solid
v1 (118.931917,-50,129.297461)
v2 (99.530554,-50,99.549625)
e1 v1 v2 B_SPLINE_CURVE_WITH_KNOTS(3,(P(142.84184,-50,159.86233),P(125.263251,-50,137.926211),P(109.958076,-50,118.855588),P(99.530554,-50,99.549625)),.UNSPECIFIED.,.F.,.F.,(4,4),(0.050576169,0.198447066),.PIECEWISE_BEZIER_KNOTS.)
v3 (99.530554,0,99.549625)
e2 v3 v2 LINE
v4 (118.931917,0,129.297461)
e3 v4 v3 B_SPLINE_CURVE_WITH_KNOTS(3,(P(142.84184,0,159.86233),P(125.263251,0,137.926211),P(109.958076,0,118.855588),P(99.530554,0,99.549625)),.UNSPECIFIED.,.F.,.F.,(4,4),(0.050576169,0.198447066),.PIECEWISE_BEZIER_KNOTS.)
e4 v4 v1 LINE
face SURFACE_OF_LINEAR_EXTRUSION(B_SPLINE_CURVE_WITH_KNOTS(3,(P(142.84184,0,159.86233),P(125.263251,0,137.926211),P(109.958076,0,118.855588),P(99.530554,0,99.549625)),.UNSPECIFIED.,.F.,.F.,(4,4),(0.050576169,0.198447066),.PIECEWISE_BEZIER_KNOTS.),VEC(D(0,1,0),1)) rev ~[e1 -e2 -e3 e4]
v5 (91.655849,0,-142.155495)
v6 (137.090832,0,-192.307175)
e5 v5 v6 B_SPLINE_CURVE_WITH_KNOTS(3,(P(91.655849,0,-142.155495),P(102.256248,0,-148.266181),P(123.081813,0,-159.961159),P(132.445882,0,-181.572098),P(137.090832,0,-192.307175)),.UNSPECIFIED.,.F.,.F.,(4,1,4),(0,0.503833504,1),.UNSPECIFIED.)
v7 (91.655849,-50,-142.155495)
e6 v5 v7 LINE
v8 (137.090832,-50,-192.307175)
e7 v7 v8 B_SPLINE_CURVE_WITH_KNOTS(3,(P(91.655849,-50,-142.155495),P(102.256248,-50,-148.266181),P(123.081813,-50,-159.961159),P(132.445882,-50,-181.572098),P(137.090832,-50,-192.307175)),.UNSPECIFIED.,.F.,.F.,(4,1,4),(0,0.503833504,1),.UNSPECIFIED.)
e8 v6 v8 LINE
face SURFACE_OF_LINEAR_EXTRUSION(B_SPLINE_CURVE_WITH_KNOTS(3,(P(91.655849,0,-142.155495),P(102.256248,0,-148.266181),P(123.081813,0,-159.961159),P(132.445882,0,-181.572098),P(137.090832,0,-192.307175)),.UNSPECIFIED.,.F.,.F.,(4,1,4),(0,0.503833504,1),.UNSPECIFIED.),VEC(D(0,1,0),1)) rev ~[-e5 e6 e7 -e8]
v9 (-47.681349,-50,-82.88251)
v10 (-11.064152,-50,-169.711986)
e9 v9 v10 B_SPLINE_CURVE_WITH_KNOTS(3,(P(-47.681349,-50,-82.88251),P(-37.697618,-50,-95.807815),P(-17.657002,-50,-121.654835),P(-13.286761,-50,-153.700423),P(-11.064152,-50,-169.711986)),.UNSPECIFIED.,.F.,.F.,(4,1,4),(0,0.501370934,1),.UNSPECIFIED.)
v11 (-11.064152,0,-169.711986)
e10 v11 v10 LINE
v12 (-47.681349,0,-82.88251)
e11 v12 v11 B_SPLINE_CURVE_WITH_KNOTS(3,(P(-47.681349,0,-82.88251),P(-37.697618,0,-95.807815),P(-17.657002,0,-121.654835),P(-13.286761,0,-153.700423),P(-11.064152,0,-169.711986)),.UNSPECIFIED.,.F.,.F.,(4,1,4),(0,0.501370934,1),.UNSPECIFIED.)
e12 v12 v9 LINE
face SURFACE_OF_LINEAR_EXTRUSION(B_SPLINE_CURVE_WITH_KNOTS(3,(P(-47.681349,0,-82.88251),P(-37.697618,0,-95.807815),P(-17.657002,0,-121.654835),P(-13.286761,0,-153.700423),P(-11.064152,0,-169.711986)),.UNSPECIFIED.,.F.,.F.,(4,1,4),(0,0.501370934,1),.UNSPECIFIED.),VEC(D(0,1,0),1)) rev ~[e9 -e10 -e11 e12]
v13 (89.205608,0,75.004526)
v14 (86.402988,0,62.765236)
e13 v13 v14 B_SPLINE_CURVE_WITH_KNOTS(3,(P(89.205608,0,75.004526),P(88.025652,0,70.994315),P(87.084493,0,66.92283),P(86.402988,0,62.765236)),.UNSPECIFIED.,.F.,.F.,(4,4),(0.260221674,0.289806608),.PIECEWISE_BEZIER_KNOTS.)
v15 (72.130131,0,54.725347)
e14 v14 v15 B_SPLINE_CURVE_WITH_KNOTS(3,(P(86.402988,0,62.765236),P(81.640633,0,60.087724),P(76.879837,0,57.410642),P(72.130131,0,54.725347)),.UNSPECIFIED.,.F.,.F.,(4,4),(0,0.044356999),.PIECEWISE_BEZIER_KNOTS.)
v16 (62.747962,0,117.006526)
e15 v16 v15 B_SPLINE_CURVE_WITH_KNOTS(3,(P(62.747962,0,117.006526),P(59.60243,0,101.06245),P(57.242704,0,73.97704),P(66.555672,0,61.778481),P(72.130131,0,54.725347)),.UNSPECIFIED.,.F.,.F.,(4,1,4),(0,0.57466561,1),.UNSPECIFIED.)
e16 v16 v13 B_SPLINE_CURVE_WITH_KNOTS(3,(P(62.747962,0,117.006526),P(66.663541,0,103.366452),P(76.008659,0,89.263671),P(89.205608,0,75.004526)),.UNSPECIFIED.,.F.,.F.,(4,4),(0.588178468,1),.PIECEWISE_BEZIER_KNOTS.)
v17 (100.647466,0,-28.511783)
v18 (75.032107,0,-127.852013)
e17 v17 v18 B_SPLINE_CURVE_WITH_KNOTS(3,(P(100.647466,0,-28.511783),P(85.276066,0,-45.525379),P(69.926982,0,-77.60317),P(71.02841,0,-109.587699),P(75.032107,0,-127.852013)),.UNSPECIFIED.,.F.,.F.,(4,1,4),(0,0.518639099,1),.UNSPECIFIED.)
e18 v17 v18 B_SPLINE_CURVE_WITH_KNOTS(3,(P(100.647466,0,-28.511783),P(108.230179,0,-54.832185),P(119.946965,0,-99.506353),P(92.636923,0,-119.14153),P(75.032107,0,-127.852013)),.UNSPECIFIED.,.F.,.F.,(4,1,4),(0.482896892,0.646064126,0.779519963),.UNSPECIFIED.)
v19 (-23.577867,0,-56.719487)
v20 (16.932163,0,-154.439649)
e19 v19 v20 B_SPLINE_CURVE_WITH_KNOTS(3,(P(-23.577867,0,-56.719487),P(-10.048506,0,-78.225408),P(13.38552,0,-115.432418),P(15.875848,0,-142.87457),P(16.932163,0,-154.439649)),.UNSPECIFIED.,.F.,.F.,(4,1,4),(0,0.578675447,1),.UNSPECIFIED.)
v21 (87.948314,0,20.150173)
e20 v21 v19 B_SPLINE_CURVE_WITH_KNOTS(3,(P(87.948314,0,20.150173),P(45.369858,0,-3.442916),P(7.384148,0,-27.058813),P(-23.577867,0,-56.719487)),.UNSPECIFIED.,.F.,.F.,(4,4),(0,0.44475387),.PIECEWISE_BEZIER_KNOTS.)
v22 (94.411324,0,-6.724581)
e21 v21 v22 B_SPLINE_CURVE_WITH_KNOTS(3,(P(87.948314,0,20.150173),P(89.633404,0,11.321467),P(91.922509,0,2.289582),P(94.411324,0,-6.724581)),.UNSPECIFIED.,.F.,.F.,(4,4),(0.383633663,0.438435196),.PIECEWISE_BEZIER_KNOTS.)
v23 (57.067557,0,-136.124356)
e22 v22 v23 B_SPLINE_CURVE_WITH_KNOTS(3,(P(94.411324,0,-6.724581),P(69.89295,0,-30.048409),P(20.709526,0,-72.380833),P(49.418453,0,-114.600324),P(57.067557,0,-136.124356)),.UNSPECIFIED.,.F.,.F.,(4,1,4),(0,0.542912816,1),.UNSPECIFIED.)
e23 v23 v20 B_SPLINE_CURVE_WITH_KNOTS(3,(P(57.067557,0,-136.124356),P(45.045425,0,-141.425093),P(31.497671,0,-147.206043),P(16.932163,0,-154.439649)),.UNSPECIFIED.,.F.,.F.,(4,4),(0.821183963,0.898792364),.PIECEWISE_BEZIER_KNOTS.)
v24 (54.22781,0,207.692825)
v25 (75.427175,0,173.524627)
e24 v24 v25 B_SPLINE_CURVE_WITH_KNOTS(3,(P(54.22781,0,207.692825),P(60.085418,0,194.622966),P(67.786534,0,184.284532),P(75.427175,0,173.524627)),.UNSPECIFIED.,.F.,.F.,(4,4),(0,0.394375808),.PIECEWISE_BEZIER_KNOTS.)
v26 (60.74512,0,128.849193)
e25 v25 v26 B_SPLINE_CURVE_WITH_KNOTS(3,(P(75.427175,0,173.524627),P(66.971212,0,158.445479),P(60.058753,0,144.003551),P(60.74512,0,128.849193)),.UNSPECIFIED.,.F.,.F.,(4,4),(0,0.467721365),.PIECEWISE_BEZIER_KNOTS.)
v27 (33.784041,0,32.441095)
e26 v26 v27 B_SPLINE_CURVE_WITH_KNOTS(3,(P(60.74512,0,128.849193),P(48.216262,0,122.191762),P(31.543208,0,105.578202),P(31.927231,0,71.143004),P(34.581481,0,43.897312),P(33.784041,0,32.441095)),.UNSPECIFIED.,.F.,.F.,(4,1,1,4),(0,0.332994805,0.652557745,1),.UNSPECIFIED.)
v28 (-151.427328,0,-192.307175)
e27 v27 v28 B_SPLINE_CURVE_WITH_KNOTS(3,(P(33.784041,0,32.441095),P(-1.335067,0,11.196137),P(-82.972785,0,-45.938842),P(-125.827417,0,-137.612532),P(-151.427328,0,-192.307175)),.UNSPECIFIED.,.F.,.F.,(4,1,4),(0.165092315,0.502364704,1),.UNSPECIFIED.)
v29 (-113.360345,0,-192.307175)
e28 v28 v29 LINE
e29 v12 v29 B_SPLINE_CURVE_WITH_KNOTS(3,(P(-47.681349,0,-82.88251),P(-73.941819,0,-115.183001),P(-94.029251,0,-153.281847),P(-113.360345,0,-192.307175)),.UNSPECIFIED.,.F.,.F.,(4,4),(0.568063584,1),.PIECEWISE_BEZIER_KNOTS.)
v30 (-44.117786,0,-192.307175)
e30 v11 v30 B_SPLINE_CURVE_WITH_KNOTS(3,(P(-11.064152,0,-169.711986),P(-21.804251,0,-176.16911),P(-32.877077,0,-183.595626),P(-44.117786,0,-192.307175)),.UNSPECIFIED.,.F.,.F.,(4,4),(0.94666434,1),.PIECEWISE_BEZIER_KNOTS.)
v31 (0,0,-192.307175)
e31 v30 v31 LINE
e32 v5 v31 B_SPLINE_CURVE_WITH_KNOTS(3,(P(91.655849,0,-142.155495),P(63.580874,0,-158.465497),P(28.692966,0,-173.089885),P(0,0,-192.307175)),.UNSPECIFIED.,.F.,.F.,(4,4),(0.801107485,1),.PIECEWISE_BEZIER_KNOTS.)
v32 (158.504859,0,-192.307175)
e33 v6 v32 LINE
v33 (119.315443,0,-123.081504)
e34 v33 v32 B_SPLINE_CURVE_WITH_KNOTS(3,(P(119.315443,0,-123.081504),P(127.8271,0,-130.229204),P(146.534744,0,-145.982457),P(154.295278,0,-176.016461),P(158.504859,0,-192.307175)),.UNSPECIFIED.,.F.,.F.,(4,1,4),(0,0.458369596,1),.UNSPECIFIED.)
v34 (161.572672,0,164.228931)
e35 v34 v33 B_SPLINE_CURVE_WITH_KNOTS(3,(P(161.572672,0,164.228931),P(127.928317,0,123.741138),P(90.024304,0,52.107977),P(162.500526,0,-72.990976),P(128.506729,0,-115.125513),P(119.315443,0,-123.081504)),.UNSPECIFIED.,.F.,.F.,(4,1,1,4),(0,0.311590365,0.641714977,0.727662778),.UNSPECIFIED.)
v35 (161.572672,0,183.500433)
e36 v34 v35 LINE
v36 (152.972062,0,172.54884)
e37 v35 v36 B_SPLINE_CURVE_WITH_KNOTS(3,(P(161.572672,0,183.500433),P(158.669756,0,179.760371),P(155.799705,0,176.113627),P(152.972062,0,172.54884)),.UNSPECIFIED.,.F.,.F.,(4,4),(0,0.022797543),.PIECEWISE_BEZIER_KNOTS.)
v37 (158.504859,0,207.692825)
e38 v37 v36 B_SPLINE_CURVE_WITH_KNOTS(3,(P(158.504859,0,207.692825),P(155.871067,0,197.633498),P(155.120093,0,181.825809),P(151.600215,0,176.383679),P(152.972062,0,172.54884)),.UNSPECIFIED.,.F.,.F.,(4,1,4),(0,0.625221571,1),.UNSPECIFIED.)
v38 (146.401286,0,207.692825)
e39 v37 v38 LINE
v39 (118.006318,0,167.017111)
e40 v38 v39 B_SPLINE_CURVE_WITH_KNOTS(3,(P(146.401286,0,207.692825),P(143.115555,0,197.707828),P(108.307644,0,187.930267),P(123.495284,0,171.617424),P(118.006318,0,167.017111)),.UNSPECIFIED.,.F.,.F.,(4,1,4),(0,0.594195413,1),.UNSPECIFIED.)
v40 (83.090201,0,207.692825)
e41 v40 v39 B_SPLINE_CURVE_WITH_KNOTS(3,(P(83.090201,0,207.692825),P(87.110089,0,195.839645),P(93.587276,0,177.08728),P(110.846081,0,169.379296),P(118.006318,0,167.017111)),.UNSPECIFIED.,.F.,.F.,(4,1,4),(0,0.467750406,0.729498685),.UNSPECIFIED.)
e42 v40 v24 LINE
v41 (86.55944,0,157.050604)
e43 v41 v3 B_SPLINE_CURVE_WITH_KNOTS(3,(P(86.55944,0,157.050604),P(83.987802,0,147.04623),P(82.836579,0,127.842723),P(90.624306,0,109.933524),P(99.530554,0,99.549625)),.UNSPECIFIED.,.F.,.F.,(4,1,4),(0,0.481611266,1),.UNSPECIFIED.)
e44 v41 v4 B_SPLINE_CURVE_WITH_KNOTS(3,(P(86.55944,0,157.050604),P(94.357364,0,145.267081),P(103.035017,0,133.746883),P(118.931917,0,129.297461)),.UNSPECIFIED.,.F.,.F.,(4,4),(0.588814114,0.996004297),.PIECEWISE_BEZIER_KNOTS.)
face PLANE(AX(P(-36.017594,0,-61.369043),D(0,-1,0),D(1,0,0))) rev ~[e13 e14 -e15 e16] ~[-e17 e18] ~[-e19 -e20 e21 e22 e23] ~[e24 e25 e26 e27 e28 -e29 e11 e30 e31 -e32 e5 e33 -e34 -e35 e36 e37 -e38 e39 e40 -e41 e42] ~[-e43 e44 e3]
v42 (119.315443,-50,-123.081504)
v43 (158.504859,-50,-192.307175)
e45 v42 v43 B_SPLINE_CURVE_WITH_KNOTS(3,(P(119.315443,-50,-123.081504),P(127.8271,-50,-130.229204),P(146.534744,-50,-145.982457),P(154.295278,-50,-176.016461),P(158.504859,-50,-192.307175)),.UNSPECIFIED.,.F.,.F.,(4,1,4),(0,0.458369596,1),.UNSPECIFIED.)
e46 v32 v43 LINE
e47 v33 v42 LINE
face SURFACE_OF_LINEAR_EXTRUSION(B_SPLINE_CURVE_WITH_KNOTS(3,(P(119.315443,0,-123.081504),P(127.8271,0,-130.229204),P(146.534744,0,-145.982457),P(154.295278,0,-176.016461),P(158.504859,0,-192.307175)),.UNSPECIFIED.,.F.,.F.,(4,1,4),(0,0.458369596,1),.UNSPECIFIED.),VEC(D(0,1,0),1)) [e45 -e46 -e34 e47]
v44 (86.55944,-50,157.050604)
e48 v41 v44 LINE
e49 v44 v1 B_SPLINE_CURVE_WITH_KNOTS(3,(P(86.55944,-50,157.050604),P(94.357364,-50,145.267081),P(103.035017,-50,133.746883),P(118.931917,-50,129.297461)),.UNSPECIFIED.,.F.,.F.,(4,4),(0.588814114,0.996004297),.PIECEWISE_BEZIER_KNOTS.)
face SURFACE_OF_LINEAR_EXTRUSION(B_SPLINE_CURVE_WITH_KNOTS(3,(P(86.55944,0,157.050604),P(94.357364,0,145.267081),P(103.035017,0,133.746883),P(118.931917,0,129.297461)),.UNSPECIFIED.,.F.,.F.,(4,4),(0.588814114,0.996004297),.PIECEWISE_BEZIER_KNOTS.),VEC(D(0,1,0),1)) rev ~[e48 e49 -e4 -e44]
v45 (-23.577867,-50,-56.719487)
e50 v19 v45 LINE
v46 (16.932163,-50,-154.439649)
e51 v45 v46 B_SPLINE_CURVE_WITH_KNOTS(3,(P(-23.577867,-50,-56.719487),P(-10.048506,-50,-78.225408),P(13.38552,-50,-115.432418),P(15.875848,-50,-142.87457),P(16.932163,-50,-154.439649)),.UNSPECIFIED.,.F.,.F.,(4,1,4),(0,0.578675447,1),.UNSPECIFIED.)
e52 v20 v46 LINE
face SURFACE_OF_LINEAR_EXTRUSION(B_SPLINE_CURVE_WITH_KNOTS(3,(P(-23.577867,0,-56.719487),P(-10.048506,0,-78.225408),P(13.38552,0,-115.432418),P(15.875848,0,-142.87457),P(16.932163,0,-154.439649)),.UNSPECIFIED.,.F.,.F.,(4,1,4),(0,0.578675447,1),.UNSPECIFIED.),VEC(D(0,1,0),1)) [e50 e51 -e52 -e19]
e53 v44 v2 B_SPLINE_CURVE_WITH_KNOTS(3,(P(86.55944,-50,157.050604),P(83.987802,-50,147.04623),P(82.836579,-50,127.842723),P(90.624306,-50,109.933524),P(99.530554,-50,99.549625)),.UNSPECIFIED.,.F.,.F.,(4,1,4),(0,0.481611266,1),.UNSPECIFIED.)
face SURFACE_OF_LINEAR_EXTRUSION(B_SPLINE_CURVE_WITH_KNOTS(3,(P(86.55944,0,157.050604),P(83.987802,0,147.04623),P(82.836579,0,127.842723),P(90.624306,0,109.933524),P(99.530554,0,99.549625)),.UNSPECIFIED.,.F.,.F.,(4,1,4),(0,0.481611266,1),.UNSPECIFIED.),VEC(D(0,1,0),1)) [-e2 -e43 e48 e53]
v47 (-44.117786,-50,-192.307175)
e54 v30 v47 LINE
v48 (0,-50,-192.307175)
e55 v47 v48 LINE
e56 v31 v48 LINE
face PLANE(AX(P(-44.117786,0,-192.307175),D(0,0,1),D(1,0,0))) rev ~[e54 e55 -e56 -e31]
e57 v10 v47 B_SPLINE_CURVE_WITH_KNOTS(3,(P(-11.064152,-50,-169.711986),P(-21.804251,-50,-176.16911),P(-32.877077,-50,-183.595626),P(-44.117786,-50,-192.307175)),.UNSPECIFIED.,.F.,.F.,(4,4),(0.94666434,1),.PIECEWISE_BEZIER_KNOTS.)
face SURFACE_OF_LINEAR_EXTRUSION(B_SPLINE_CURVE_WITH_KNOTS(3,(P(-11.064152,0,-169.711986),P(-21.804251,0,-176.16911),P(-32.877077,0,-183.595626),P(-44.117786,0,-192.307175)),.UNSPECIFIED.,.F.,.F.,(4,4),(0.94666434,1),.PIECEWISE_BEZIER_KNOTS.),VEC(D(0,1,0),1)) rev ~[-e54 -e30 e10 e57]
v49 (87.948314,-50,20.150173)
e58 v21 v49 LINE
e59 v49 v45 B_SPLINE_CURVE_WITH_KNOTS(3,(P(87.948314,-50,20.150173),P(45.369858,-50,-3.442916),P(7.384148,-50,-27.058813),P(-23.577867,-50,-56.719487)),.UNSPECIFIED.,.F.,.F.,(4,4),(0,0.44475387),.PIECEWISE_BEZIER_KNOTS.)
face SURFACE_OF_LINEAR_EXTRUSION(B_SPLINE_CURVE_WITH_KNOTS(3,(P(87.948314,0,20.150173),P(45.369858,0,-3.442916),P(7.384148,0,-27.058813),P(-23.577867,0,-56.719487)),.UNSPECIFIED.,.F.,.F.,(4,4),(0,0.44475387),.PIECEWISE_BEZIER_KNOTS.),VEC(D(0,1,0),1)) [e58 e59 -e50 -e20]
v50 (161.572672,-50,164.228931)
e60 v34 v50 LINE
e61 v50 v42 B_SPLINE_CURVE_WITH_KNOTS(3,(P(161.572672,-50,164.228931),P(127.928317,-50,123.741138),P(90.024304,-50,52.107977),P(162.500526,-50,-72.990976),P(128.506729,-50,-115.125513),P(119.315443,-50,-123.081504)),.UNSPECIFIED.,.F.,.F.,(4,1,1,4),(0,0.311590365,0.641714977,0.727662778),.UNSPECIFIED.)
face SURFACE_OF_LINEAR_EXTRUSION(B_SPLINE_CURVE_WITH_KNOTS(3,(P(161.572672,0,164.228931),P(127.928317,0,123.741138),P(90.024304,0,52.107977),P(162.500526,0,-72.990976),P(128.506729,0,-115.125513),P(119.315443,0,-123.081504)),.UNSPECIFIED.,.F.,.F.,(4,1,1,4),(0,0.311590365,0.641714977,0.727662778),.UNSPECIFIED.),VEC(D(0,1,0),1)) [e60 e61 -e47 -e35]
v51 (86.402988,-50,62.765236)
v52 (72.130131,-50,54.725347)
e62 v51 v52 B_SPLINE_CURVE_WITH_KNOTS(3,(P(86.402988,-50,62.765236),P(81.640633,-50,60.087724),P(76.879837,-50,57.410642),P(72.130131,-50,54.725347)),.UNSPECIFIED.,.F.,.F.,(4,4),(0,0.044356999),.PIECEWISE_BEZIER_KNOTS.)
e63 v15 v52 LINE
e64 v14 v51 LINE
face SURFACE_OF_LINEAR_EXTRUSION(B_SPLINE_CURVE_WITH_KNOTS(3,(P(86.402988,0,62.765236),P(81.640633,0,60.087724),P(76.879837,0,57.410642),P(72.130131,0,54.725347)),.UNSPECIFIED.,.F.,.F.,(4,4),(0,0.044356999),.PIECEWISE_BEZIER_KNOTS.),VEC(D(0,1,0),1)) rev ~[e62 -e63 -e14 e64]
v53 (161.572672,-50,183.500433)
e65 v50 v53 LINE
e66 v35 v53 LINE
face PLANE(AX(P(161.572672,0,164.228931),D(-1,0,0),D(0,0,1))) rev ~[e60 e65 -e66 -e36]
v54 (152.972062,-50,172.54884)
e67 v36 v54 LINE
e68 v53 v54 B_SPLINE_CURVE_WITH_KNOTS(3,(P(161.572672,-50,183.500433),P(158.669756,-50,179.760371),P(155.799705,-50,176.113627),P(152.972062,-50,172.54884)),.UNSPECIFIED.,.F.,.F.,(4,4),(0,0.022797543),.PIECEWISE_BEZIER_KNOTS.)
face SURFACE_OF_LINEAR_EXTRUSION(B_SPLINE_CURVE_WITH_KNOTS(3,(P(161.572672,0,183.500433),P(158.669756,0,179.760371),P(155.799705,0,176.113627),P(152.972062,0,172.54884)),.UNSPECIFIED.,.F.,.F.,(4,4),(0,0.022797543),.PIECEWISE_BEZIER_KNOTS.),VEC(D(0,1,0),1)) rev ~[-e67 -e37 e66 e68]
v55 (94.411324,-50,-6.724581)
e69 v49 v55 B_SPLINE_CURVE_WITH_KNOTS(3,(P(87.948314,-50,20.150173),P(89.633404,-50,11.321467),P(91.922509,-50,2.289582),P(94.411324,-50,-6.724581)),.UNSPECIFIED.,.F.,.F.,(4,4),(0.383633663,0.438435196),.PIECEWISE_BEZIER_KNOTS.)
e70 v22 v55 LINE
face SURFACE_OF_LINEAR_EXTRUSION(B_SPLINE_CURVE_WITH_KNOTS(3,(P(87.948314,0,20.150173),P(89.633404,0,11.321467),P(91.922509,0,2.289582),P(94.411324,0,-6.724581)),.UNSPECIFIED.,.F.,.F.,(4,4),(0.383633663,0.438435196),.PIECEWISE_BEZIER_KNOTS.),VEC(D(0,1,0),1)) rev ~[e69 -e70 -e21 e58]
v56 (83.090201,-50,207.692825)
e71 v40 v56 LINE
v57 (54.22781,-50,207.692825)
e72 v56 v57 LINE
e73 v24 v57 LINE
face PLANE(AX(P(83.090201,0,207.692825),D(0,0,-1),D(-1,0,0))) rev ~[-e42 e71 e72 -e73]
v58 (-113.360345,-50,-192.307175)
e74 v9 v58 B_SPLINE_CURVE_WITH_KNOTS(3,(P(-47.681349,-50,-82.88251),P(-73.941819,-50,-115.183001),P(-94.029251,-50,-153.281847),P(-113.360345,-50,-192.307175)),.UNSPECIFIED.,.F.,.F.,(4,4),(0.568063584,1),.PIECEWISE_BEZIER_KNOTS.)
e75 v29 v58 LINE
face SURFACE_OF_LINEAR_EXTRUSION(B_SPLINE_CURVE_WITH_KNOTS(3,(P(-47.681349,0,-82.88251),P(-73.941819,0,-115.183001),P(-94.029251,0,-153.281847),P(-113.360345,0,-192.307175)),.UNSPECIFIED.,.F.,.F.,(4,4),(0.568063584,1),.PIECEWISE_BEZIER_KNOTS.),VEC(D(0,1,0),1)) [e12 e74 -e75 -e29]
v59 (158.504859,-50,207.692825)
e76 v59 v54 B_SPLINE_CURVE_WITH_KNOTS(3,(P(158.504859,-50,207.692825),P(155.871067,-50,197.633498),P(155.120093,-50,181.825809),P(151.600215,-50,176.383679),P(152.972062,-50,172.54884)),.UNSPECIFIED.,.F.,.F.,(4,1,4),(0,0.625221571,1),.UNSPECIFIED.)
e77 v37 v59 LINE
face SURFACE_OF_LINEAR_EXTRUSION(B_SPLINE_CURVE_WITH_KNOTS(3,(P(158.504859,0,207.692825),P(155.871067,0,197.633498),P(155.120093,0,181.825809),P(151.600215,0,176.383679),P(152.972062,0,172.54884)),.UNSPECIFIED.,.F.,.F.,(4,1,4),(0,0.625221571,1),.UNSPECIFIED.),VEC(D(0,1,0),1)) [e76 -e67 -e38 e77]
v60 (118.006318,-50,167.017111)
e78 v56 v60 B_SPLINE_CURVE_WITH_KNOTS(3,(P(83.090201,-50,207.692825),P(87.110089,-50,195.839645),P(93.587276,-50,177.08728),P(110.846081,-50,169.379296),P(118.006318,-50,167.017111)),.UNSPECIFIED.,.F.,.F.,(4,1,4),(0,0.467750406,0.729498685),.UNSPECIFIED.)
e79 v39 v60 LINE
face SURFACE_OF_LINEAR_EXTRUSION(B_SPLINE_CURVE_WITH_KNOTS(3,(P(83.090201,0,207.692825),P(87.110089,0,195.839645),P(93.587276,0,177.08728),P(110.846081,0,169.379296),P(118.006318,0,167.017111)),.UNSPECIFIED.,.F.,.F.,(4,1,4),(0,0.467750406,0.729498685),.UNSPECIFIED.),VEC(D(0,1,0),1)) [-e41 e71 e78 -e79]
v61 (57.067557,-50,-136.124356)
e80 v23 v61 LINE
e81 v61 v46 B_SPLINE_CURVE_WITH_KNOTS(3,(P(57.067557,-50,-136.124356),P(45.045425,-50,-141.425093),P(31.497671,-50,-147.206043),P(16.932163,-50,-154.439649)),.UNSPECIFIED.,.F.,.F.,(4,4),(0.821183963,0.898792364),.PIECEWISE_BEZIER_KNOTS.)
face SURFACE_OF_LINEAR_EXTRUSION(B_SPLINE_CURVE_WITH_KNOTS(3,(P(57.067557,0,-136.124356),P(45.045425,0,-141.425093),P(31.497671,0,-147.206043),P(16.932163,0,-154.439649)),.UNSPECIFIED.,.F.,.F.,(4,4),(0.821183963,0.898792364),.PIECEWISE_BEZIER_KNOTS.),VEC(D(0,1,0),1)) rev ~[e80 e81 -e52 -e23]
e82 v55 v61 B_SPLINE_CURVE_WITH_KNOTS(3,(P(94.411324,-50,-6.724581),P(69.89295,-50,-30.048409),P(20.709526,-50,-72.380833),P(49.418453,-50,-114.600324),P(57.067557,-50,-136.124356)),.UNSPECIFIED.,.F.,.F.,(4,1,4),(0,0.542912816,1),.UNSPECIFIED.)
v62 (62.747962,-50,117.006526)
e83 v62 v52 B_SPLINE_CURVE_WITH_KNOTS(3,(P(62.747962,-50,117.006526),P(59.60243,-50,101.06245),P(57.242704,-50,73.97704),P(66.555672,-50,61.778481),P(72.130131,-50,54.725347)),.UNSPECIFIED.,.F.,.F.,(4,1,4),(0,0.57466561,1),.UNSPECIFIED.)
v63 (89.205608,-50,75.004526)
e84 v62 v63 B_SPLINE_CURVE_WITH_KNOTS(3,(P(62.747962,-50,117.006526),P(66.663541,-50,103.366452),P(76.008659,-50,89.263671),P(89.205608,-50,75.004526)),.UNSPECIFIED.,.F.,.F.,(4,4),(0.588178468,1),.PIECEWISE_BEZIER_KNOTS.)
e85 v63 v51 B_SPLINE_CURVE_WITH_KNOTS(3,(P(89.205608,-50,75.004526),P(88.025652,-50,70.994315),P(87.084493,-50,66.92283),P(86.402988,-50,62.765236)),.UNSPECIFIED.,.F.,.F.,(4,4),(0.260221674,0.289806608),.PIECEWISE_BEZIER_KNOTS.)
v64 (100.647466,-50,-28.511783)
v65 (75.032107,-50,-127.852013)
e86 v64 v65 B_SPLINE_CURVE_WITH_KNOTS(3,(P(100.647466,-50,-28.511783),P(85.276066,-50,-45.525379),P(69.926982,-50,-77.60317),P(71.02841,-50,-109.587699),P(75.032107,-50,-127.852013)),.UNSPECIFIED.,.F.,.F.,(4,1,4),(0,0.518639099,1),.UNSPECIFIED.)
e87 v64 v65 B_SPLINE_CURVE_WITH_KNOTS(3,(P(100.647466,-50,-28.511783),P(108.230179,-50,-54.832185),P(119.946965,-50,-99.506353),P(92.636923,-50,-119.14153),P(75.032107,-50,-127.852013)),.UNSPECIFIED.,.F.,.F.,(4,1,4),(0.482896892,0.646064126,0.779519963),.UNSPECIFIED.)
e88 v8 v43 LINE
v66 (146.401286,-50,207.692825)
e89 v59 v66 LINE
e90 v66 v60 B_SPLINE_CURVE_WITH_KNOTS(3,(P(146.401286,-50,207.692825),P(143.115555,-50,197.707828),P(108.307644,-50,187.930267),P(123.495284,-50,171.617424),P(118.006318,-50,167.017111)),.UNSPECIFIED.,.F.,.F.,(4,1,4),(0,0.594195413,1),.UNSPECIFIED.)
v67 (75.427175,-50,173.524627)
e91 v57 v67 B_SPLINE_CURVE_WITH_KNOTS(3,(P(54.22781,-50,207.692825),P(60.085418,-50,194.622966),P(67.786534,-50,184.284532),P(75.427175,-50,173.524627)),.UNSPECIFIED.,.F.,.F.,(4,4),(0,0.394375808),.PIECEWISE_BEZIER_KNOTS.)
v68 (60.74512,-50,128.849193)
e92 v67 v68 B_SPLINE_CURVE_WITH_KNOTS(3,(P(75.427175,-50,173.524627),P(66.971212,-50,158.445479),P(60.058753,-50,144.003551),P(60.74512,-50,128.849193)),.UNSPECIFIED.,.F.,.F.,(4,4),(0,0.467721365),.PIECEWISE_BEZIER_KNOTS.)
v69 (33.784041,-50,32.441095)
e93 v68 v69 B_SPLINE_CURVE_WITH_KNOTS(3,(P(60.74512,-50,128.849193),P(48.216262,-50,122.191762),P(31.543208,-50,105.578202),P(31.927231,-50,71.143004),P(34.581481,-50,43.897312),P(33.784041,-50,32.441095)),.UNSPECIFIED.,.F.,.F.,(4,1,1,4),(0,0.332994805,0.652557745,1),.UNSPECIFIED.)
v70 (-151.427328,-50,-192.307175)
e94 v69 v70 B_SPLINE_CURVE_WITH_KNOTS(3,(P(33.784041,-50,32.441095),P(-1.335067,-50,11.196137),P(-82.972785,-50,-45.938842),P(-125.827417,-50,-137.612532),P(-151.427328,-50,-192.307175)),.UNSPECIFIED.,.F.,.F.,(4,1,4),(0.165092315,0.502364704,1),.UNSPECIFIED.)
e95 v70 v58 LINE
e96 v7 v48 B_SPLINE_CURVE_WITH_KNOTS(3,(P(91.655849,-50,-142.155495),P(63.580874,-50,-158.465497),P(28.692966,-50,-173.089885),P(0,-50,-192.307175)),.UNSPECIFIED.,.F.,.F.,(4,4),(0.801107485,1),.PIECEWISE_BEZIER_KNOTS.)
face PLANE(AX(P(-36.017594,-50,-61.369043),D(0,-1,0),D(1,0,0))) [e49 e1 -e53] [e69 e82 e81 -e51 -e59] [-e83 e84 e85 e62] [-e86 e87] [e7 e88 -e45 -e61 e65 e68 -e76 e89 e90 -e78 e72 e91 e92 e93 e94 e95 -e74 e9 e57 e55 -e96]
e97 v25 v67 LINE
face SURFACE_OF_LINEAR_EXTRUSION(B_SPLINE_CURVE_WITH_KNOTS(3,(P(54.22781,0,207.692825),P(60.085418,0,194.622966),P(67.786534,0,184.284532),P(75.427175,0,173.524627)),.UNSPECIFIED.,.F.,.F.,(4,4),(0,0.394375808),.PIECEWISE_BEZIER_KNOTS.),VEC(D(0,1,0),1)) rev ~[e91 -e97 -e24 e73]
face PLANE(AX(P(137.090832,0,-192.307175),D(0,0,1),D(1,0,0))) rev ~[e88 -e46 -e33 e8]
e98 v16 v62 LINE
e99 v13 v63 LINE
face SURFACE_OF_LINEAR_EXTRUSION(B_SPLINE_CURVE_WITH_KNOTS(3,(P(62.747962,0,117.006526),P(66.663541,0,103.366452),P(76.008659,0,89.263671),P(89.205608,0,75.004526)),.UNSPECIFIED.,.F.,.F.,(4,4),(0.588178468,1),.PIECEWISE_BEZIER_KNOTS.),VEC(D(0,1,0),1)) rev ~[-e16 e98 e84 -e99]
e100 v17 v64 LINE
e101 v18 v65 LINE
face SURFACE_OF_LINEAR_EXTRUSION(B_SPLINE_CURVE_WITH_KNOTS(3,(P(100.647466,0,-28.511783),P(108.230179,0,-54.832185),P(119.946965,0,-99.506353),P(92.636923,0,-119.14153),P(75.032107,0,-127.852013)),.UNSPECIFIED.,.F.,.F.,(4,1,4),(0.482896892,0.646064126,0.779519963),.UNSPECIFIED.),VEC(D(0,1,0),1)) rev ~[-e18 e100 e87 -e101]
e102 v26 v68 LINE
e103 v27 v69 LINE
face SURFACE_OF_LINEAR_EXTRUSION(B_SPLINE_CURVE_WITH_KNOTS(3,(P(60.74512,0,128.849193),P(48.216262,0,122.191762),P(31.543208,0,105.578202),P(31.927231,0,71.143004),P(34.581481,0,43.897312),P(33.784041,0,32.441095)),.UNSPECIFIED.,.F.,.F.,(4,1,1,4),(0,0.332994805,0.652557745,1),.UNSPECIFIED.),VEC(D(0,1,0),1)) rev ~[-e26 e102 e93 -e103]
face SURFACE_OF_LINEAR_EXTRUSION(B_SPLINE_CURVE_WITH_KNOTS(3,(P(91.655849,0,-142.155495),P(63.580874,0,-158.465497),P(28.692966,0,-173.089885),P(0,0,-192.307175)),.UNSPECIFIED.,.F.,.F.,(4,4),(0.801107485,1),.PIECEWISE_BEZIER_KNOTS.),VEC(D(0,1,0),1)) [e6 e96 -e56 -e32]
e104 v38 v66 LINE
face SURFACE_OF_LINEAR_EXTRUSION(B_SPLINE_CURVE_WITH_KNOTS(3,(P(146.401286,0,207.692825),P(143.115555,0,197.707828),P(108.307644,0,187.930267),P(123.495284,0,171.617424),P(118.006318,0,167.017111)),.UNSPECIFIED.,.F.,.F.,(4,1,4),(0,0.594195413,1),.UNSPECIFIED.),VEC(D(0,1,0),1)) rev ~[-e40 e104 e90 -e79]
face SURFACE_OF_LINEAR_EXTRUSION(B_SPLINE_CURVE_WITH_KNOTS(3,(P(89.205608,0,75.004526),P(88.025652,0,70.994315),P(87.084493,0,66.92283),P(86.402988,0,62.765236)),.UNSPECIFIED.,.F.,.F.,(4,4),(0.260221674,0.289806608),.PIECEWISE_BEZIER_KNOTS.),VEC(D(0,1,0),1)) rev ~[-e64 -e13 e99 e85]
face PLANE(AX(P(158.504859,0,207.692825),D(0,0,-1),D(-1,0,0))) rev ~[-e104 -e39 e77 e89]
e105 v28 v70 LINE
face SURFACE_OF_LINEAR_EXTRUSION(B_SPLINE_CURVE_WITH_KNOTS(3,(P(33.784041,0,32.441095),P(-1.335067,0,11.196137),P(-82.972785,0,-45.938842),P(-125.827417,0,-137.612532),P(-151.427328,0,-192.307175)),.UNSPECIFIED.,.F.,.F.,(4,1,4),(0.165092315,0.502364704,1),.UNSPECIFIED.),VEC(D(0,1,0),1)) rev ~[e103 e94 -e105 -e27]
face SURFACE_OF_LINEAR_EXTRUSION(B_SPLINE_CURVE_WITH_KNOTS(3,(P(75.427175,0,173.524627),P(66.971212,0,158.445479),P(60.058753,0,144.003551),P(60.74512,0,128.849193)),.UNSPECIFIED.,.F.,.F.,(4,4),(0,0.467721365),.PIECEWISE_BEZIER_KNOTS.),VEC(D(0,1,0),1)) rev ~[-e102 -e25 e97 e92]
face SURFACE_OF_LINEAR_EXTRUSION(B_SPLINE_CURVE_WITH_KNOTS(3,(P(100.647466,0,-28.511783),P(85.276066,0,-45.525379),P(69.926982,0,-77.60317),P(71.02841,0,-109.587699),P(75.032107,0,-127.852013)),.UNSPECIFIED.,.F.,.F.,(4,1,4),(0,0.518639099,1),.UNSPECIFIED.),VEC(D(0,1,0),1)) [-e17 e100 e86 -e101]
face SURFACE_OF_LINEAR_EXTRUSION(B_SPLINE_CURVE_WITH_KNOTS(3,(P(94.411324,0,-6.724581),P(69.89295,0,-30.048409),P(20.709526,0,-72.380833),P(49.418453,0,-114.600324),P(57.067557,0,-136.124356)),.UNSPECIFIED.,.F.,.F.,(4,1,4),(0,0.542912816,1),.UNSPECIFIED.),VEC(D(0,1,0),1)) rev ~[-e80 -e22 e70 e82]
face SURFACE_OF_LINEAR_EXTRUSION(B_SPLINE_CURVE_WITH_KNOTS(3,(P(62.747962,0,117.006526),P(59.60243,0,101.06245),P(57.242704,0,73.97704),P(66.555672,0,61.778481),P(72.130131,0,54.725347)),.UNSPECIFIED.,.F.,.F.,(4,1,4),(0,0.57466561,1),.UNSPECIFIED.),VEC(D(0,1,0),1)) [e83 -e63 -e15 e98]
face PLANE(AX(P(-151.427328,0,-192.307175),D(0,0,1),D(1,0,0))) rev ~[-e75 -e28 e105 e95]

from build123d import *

# Parameters (mm, degrees)
F1_DEPTH = 50


with BuildPart() as f1:
    # F0 (on Front) → F1 (new body)
    with BuildSketch(Plane.XZ):
        with BuildLine():
            add(Edge.make_bspline(
                [(33.7840405817, 32.4410954859), (-1.3350670747, 11.1961369565), (-82.9727851373, -45.9388415897), (-125.8274168712, -137.6125319097), (-151.4273277136, -192.3071747745)],
                knots=[0.1650923147, 0.1650923147, 0.1650923147, 0.1650923147, 0.5023647043, 1, 1, 1, 1], degree=3))
            Line((-151.4273277136, -192.3071747745), (-113.3603453636, -192.3071747745))
            add(Edge.make_bspline(
                [(-47.6813485904, -82.8825103726), (-73.9418191046, -115.1830009143), (-94.0292507398, -153.2818472534), (-113.3603453636, -192.3071747745)],
                knots=[0.5680635842, 0.5680635842, 0.5680635842, 0.5680635842, 1, 1, 1, 1], degree=3))
            add(Edge.make_bspline(
                [(-23.5778673601, -56.7194873224), (-27.8845088808, -60.8451196614), (-36.1979815182, -69.3017688301), (-43.9455530092, -78.2874659017), (-47.6813485904, -82.8825103726)],
                knots=[0.44475387, 0.44475387, 0.44475387, 0.44475387, 0.5066166215, 0.5680635842, 0.5680635842, 0.5680635842, 0.5680635842], degree=3))
            add(Edge.make_bspline(
                [(87.9483139372, 20.1501727821), (45.3698576212, -3.4429156349), (7.3841483298, -27.0588126184), (-23.5778673601, -56.7194873224)],
                knots=[0, 0, 0, 0, 0.44475387, 0.44475387, 0.44475387, 0.44475387], degree=3))
            add(Edge.make_bspline(
                [(86.4029882629, 62.7652361886), (85.449929096, 56.9509946506), (84.4401796439, 43.3835035509), (86.3354202415, 28.6006214532), (87.9483139372, 20.1501727821)],
                knots=[0.2898066076, 0.2898066076, 0.2898066076, 0.2898066076, 0.3311800495, 0.3836336632, 0.3836336632, 0.3836336632, 0.3836336632], degree=3))
            add(Edge.make_bspline(
                [(86.4029882629, 62.7652361886), (81.6406325524, 60.0877235039), (76.8798373396, 57.4106422817), (72.1301305263, 54.7253465386)],
                knots=[0, 0, 0, 0, 0.0443569986, 0.0443569986, 0.0443569986, 0.0443569986], degree=3))
            add(Edge.make_bspline(
                [(72.1301305263, 54.7253465386), (59.2019033995, 47.4162399695), (46.35582734, 40.0462741519), (33.7840405817, 32.4410954859)],
                knots=[0.0443569986, 0.0443569986, 0.0443569986, 0.0443569986, 0.1650923147, 0.1650923147, 0.1650923147, 0.1650923147], degree=3))
        make_face()
        with BuildLine():
            add(Edge.make_bspline(
                [(-47.6813485904, -82.8825103726), (-37.6976178586, -95.8078145278), (-17.6570022581, -121.6548352785), (-13.2867608742, -153.7004230944), (-11.0641516952, -169.7119861588)],
                knots=[0, 0, 0, 0, 0.5013709336, 1, 1, 1, 1], degree=3))
            add(Edge.make_bspline(
                [(16.9321630542, -154.4396487608), (7.9475731058, -158.9016267331), (-1.4242642684, -163.9163277691), (-11.0641516952, -169.7119861588)],
                knots=[0.8987923644, 0.8987923644, 0.8987923644, 0.8987923644, 0.9466643403, 0.9466643403, 0.9466643403, 0.9466643403], degree=3))
            add(Edge.make_bspline(
                [(-23.5778673601, -56.7194873224), (-10.048506017, -78.2254081232), (13.3855203997, -115.4324178206), (15.8758483062, -142.8745703905), (16.9321630542, -154.4396487608)],
                knots=[0, 0, 0, 0, 0.5786754475, 1, 1, 1, 1], degree=3))
            add(Edge.make_bspline(
                [(-23.5778673601, -56.7194873224), (-27.8845088808, -60.8451196614), (-36.1979815182, -69.3017688301), (-43.9455530092, -78.2874659017), (-47.6813485904, -82.8825103726)],
                knots=[0.44475387, 0.44475387, 0.44475387, 0.44475387, 0.5066166215, 0.5680635842, 0.5680635842, 0.5680635842, 0.5680635842], degree=3))
        make_face()
        with BuildLine():
            Line((161.5726722864, 164.2289310694), (161.5726722864, 183.500433121))
            add(Edge.make_bspline(
                [(161.5726722864, 183.500433121), (158.6697561937, 179.7603709259), (155.7997051715, 176.1136274949), (152.9720624863, 172.5488397796)],
                knots=[0, 0, 0, 0, 0.0227975426, 0.0227975426, 0.0227975426, 0.0227975426], degree=3))
            add(Edge.make_bspline(
                [(152.9720624863, 172.5488397796), (149.5266021616, 168.2051740458), (146.144106472, 163.9831898515), (142.8418403639, 159.8623300408)],
                knots=[0.0227975426, 0.0227975426, 0.0227975426, 0.0227975426, 0.0505761686, 0.0505761686, 0.0505761686, 0.0505761686], degree=3))
            add(Edge.make_bspline(
                [(142.8418403639, 159.8623300408), (134.2230298354, 149.1070157325), (126.1507380473, 139.0405542113), (118.931917396, 129.2974610904)],
                knots=[0.0505761686, 0.0505761686, 0.0505761686, 0.0505761686, 0.1230775075, 0.1230775075, 0.1230775075, 0.1230775075], degree=3))
            add(Edge.make_bspline(
                [(118.931917396, 129.2974610904), (111.4275135493, 119.1689222297), (104.8454447873, 109.3898433661), (99.5305536728, 99.5496247644)],
                knots=[0.1230775075, 0.1230775075, 0.1230775075, 0.1230775075, 0.1984470661, 0.1984470661, 0.1984470661, 0.1984470661], degree=3))
            add(Edge.make_bspline(
                [(99.5305536728, 99.5496247644), (95.1743477908, 91.4843573429), (91.6694084315, 83.3780173754), (89.2056084764, 75.0045255924)],
                knots=[0.1984470661, 0.1984470661, 0.1984470661, 0.1984470661, 0.260221674, 0.260221674, 0.260221674, 0.260221674], degree=3))
            add(Edge.make_bspline(
                [(89.2056084764, 75.0045255924), (88.0256518483, 70.9943148164), (87.0844928908, 66.9228296031), (86.4029882629, 62.7652361886)],
                knots=[0.260221674, 0.260221674, 0.260221674, 0.260221674, 0.2898066076, 0.2898066076, 0.2898066076, 0.2898066076], degree=3))
            add(Edge.make_bspline(
                [(86.4029882629, 62.7652361886), (85.449929096, 56.9509946506), (84.4401796439, 43.3835035509), (86.3354202415, 28.6006214532), (87.9483139372, 20.1501727821)],
                knots=[0.2898066076, 0.2898066076, 0.2898066076, 0.2898066076, 0.3311800495, 0.3836336632, 0.3836336632, 0.3836336632, 0.3836336632], degree=3))
            add(Edge.make_bspline(
                [(87.9483139372, 20.1501727821), (89.6334036756, 11.3214667244), (91.9225091752, 2.2895818916), (94.4113235468, -6.7245809888)],
                knots=[0.3836336632, 0.3836336632, 0.3836336632, 0.3836336632, 0.4384351956, 0.4384351956, 0.4384351956, 0.4384351956], degree=3))
            add(Edge.make_bspline(
                [(94.4113235468, -6.7245809888), (96.4305537515, -14.0379709171), (98.5812410463, -21.3396954834), (100.6474662993, -28.5117831797)],
                knots=[0.4384351956, 0.4384351956, 0.4384351956, 0.4384351956, 0.4828968922, 0.4828968922, 0.4828968922, 0.4828968922], degree=3))
            add(Edge.make_bspline(
                [(100.6474662993, -28.5117831797), (108.2301787006, -54.8321847135), (119.9469648226, -99.5063533785), (92.6369226658, -119.1415299059), (75.0321073118, -127.8520125935)],
                knots=[0.4828968922, 0.4828968922, 0.4828968922, 0.4828968922, 0.6460641257, 0.7795199626, 0.7795199626, 0.7795199626, 0.7795199626], degree=3))
            add(Edge.make_bspline(
                [(75.0321073118, -127.8520125935), (69.5360042843, -130.5713657539), (63.5216279141, -133.2786604033), (57.0675570237, -136.1243560803)],
                knots=[0.7795199626, 0.7795199626, 0.7795199626, 0.7795199626, 0.8211839627, 0.8211839627, 0.8211839627, 0.8211839627], degree=3))
            add(Edge.make_bspline(
                [(57.0675570237, -136.1243560803), (45.045424625, -141.4250927436), (31.4976714177, -147.2060434603), (16.9321630542, -154.4396487608)],
                knots=[0.8211839627, 0.8211839627, 0.8211839627, 0.8211839627, 0.8987923644, 0.8987923644, 0.8987923644, 0.8987923644], degree=3))
            add(Edge.make_bspline(
                [(16.9321630542, -154.4396487608), (7.9475731058, -158.9016267331), (-1.4242642684, -163.9163277691), (-11.0641516952, -169.7119861588)],
                knots=[0.8987923644, 0.8987923644, 0.8987923644, 0.8987923644, 0.9466643403, 0.9466643403, 0.9466643403, 0.9466643403], degree=3))
            add(Edge.make_bspline(
                [(-11.0641516952, -169.7119861588), (-21.8042505923, -176.1691097249), (-32.877076864, -183.5956264599), (-44.1177855636, -192.3071747745)],
                knots=[0.9466643403, 0.9466643403, 0.9466643403, 0.9466643403, 1, 1, 1, 1], degree=3))
            Line((-44.1177855636, -192.3071747745), (0, -192.3071747745))
            add(Edge.make_bspline(
                [(91.6558492517, -142.1554952409), (63.5808744263, -158.4654974972), (28.6929657416, -173.0898848198), (0, -192.3071747745)],
                knots=[0.8011074852, 0.8011074852, 0.8011074852, 0.8011074852, 1, 1, 1, 1], degree=3))
            add(Edge.make_bspline(
                [(119.3154431729, -123.0815035944), (111.4612420038, -129.8801116218), (102.0230483979, -136.1327279003), (91.6558492517, -142.1554952409)],
                knots=[0.7276627779, 0.7276627779, 0.7276627779, 0.7276627779, 0.8011074852, 0.8011074852, 0.8011074852, 0.8011074852], degree=3))
            add(Edge.make_bspline(
                [(161.5726722864, 164.2289310694), (127.9283165879, 123.741138071), (90.0243038422, 52.1079771624), (162.5005260377, -72.9909762919), (128.5067292283, -115.1255129324), (119.3154431729, -123.0815035944)],
                knots=[0, 0, 0, 0, 0.3115903654, 0.6417149775, 0.7276627779, 0.7276627779, 0.7276627779, 0.7276627779], degree=3))
        make_face()
        with BuildLine():
            add(Edge.make_bspline(
                [(119.3154431729, -123.0815035944), (127.8271004026, -130.229203514), (146.5347439848, -145.9824570753), (154.2952784291, -176.0164611644), (158.504858613, -192.3071747745)],
                knots=[0, 0, 0, 0, 0.4583695956, 1, 1, 1, 1], degree=3))
            add(Edge.make_bspline(
                [(119.3154431729, -123.0815035944), (111.4612420038, -129.8801116218), (102.0230483979, -136.1327279003), (91.6558492517, -142.1554952409)],
                knots=[0.7276627779, 0.7276627779, 0.7276627779, 0.7276627779, 0.8011074852, 0.8011074852, 0.8011074852, 0.8011074852], degree=3))
            add(Edge.make_bspline(
                [(91.6558492517, -142.1554952409), (102.2562480915, -148.266180717), (123.0818131064, -159.961158959), (132.4458816607, -181.5720975488), (137.090831995, -192.3071747745)],
                knots=[0, 0, 0, 0, 0.5038335041, 1, 1, 1, 1], degree=3))
            Line((137.090831995, -192.3071747745), (158.504858613, -192.3071747745))
        make_face()
        with BuildLine():
            add(Edge.make_bspline(
                [(94.4113235468, -6.7245809888), (96.4305537515, -14.0379709171), (98.5812410463, -21.3396954834), (100.6474662993, -28.5117831797)],
                knots=[0.4384351956, 0.4384351956, 0.4384351956, 0.4384351956, 0.4828968922, 0.4828968922, 0.4828968922, 0.4828968922], degree=3))
            add(Edge.make_bspline(
                [(94.4113235468, -6.7245809888), (69.8929498645, -30.0484086542), (20.7095259404, -72.3808334135), (49.418452744, -114.6003239541), (57.0675570237, -136.1243560803)],
                knots=[0, 0, 0, 0, 0.5429128164, 1, 1, 1, 1], degree=3))
            add(Edge.make_bspline(
                [(75.0321073118, -127.8520125935), (69.5360042843, -130.5713657539), (63.5216279141, -133.2786604033), (57.0675570237, -136.1243560803)],
                knots=[0.7795199626, 0.7795199626, 0.7795199626, 0.7795199626, 0.8211839627, 0.8211839627, 0.8211839627, 0.8211839627], degree=3))
            add(Edge.make_bspline(
                [(100.6474662993, -28.5117831797), (85.276066462, -45.5253793732), (69.9269817684, -77.6031695274), (71.0284103415, -109.5876994667), (75.0321073118, -127.8520125935)],
                knots=[0, 0, 0, 0, 0.5186390985, 1, 1, 1, 1], degree=3))
        make_face()
        with BuildLine():
            add(Edge.make_bspline(
                [(60.7451200485, 128.8491934538), (60.921887229, 124.9463354687), (61.6026617993, 120.996224136), (62.7479620056, 117.0065256713)],
                knots=[0.4677213645, 0.4677213645, 0.4677213645, 0.4677213645, 0.588178468, 0.588178468, 0.588178468, 0.588178468], degree=3))
            add(Edge.make_bspline(
                [(60.7451200485, 128.8491934538), (48.2162620465, 122.1917617815), (31.5432081965, 105.5782023832), (31.9272311169, 71.1430044589), (34.5814806954, 43.8973117153), (33.7840405817, 32.4410954859)],
                knots=[0, 0, 0, 0, 0.3329948055, 0.6525577446, 1, 1, 1, 1], degree=3))
            add(Edge.make_bspline(
                [(72.1301305263, 54.7253465386), (59.2019033995, 47.4162399695), (46.35582734, 40.0462741519), (33.7840405817, 32.4410954859)],
                knots=[0.0443569986, 0.0443569986, 0.0443569986, 0.0443569986, 0.1650923147, 0.1650923147, 0.1650923147, 0.1650923147], degree=3))
            add(Edge.make_bspline(
                [(62.7479620056, 117.0065256713), (59.6024302783, 101.0624498763), (57.2427035001, 73.977040262), (66.555671879, 61.7784809906), (72.1301305263, 54.7253465386)],
                knots=[0, 0, 0, 0, 0.5746656103, 1, 1, 1, 1], degree=3))
        make_face()
        with BuildLine():
            add(Edge.make_bspline(
                [(75.4271748481, 173.5246273106), (77.3752720663, 170.7812263834), (81.134719612, 165.4233111741), (84.7614654199, 159.7675420119), (86.5594399231, 157.0506042409)],
                knots=[0.3943758085, 0.3943758085, 0.3943758085, 0.3943758085, 0.4949279004, 0.5888141141, 0.5888141141, 0.5888141141, 0.5888141141], degree=3))
            add(Edge.make_bspline(
                [(75.4271748481, 173.5246273106), (66.9712117374, 158.4454793727), (60.0587529981, 144.0035513846), (60.7451200485, 128.8491934538)],
                knots=[0, 0, 0, 0, 0.4677213645, 0.4677213645, 0.4677213645, 0.4677213645], degree=3))
            add(Edge.make_bspline(
                [(60.7451200485, 128.8491934538), (60.921887229, 124.9463354687), (61.6026617993, 120.996224136), (62.7479620056, 117.0065256713)],
                knots=[0.4677213645, 0.4677213645, 0.4677213645, 0.4677213645, 0.588178468, 0.588178468, 0.588178468, 0.588178468], degree=3))
            add(Edge.make_bspline(
                [(62.7479620056, 117.0065256713), (66.6635408444, 103.3664522692), (76.0086586492, 89.2636705474), (89.2056084764, 75.0045255924)],
                knots=[0.588178468, 0.588178468, 0.588178468, 0.588178468, 1, 1, 1, 1], degree=3))
            add(Edge.make_bspline(
                [(99.5305536728, 99.5496247644), (95.1743477908, 91.4843573429), (91.6694084315, 83.3780173754), (89.2056084764, 75.0045255924)],
                knots=[0.1984470661, 0.1984470661, 0.1984470661, 0.1984470661, 0.260221674, 0.260221674, 0.260221674, 0.260221674], degree=3))
            add(Edge.make_bspline(
                [(86.5594399231, 157.0506042409), (83.9878015469, 147.0462299724), (82.836579489, 127.8427234548), (90.6243055451, 109.9335235527), (99.5305536728, 99.5496247644)],
                knots=[0, 0, 0, 0, 0.4816112661, 1, 1, 1, 1], degree=3))
        make_face()
        with BuildLine():
            add(Edge.make_bspline(
                [(83.0902010202, 207.6928252255), (87.110088997, 195.8396449748), (93.5872758475, 177.0872799999), (110.8460810758, 169.3792962525), (118.0063178545, 167.0171113404)],
                knots=[0, 0, 0, 0, 0.4677504063, 0.7294986849, 0.7294986849, 0.7294986849, 0.7294986849], degree=3))
            Line((83.0902010202, 207.6928252255), (54.227810353, 207.6928252255))
            add(Edge.make_bspline(
                [(54.227810353, 207.6928252255), (60.0854175021, 194.6229659864), (67.7865340514, 184.2845323351), (75.4271748481, 173.5246273106)],
                knots=[0, 0, 0, 0, 0.3943758085, 0.3943758085, 0.3943758085, 0.3943758085], degree=3))
            add(Edge.make_bspline(
                [(75.4271748481, 173.5246273106), (77.3752720663, 170.7812263834), (81.134719612, 165.4233111741), (84.7614654199, 159.7675420119), (86.5594399231, 157.0506042409)],
                knots=[0.3943758085, 0.3943758085, 0.3943758085, 0.3943758085, 0.4949279004, 0.5888141141, 0.5888141141, 0.5888141141, 0.5888141141], degree=3))
            add(Edge.make_bspline(
                [(86.5594399231, 157.0506042409), (94.3573639982, 145.2670809389), (103.0350172008, 133.7468834117), (118.931917396, 129.2974610904)],
                knots=[0.5888141141, 0.5888141141, 0.5888141141, 0.5888141141, 0.9960042969, 0.9960042969, 0.9960042969, 0.9960042969], degree=3))
            add(Edge.make_bspline(
                [(142.8418403639, 159.8623300408), (134.2230298354, 149.1070157325), (126.1507380473, 139.0405542113), (118.931917396, 129.2974610904)],
                knots=[0.0505761686, 0.0505761686, 0.0505761686, 0.0505761686, 0.1230775075, 0.1230775075, 0.1230775075, 0.1230775075], degree=3))
            add(Edge.make_bspline(
                [(118.0063178545, 167.0171113404), (125.4059977095, 164.5759333951), (133.8391586431, 162.5656756814), (142.8418403639, 159.8623300408)],
                knots=[0.7294986849, 0.7294986849, 0.7294986849, 0.7294986849, 1, 1, 1, 1], degree=3))
        make_face()
        with BuildLine():
            add(Edge.make_bspline(
                [(158.504858613, 207.6928252255), (155.8710665844, 197.6334981347), (155.1200926152, 181.8258093222), (151.6002153146, 176.3836793356), (152.9720624863, 172.5488397796)],
                knots=[0, 0, 0, 0, 0.625221571, 1, 1, 1, 1], degree=3))
            Line((158.504858613, 207.6928252255), (146.4012861252, 207.6928252255))
            add(Edge.make_bspline(
                [(146.4012861252, 207.6928252255), (143.1155545876, 197.7078282598), (108.3076436448, 187.9302668709), (123.4952842004, 171.6174236455), (118.0063178545, 167.0171113404)],
                knots=[0, 0, 0, 0, 0.5941954131, 1, 1, 1, 1], degree=3))
            add(Edge.make_bspline(
                [(118.0063178545, 167.0171113404), (125.4059977095, 164.5759333951), (133.8391586431, 162.5656756814), (142.8418403639, 159.8623300408)],
                knots=[0.7294986849, 0.7294986849, 0.7294986849, 0.7294986849, 1, 1, 1, 1], degree=3))
            add(Edge.make_bspline(
                [(152.9720624863, 172.5488397796), (149.5266021616, 168.2051740458), (146.144106472, 163.9831898515), (142.8418403639, 159.8623300408)],
                knots=[0.0227975426, 0.0227975426, 0.0227975426, 0.0227975426, 0.0505761686, 0.0505761686, 0.0505761686, 0.0505761686], degree=3))
        make_face()
    extrude(amount=F1_DEPTH)


solid = f1.part
